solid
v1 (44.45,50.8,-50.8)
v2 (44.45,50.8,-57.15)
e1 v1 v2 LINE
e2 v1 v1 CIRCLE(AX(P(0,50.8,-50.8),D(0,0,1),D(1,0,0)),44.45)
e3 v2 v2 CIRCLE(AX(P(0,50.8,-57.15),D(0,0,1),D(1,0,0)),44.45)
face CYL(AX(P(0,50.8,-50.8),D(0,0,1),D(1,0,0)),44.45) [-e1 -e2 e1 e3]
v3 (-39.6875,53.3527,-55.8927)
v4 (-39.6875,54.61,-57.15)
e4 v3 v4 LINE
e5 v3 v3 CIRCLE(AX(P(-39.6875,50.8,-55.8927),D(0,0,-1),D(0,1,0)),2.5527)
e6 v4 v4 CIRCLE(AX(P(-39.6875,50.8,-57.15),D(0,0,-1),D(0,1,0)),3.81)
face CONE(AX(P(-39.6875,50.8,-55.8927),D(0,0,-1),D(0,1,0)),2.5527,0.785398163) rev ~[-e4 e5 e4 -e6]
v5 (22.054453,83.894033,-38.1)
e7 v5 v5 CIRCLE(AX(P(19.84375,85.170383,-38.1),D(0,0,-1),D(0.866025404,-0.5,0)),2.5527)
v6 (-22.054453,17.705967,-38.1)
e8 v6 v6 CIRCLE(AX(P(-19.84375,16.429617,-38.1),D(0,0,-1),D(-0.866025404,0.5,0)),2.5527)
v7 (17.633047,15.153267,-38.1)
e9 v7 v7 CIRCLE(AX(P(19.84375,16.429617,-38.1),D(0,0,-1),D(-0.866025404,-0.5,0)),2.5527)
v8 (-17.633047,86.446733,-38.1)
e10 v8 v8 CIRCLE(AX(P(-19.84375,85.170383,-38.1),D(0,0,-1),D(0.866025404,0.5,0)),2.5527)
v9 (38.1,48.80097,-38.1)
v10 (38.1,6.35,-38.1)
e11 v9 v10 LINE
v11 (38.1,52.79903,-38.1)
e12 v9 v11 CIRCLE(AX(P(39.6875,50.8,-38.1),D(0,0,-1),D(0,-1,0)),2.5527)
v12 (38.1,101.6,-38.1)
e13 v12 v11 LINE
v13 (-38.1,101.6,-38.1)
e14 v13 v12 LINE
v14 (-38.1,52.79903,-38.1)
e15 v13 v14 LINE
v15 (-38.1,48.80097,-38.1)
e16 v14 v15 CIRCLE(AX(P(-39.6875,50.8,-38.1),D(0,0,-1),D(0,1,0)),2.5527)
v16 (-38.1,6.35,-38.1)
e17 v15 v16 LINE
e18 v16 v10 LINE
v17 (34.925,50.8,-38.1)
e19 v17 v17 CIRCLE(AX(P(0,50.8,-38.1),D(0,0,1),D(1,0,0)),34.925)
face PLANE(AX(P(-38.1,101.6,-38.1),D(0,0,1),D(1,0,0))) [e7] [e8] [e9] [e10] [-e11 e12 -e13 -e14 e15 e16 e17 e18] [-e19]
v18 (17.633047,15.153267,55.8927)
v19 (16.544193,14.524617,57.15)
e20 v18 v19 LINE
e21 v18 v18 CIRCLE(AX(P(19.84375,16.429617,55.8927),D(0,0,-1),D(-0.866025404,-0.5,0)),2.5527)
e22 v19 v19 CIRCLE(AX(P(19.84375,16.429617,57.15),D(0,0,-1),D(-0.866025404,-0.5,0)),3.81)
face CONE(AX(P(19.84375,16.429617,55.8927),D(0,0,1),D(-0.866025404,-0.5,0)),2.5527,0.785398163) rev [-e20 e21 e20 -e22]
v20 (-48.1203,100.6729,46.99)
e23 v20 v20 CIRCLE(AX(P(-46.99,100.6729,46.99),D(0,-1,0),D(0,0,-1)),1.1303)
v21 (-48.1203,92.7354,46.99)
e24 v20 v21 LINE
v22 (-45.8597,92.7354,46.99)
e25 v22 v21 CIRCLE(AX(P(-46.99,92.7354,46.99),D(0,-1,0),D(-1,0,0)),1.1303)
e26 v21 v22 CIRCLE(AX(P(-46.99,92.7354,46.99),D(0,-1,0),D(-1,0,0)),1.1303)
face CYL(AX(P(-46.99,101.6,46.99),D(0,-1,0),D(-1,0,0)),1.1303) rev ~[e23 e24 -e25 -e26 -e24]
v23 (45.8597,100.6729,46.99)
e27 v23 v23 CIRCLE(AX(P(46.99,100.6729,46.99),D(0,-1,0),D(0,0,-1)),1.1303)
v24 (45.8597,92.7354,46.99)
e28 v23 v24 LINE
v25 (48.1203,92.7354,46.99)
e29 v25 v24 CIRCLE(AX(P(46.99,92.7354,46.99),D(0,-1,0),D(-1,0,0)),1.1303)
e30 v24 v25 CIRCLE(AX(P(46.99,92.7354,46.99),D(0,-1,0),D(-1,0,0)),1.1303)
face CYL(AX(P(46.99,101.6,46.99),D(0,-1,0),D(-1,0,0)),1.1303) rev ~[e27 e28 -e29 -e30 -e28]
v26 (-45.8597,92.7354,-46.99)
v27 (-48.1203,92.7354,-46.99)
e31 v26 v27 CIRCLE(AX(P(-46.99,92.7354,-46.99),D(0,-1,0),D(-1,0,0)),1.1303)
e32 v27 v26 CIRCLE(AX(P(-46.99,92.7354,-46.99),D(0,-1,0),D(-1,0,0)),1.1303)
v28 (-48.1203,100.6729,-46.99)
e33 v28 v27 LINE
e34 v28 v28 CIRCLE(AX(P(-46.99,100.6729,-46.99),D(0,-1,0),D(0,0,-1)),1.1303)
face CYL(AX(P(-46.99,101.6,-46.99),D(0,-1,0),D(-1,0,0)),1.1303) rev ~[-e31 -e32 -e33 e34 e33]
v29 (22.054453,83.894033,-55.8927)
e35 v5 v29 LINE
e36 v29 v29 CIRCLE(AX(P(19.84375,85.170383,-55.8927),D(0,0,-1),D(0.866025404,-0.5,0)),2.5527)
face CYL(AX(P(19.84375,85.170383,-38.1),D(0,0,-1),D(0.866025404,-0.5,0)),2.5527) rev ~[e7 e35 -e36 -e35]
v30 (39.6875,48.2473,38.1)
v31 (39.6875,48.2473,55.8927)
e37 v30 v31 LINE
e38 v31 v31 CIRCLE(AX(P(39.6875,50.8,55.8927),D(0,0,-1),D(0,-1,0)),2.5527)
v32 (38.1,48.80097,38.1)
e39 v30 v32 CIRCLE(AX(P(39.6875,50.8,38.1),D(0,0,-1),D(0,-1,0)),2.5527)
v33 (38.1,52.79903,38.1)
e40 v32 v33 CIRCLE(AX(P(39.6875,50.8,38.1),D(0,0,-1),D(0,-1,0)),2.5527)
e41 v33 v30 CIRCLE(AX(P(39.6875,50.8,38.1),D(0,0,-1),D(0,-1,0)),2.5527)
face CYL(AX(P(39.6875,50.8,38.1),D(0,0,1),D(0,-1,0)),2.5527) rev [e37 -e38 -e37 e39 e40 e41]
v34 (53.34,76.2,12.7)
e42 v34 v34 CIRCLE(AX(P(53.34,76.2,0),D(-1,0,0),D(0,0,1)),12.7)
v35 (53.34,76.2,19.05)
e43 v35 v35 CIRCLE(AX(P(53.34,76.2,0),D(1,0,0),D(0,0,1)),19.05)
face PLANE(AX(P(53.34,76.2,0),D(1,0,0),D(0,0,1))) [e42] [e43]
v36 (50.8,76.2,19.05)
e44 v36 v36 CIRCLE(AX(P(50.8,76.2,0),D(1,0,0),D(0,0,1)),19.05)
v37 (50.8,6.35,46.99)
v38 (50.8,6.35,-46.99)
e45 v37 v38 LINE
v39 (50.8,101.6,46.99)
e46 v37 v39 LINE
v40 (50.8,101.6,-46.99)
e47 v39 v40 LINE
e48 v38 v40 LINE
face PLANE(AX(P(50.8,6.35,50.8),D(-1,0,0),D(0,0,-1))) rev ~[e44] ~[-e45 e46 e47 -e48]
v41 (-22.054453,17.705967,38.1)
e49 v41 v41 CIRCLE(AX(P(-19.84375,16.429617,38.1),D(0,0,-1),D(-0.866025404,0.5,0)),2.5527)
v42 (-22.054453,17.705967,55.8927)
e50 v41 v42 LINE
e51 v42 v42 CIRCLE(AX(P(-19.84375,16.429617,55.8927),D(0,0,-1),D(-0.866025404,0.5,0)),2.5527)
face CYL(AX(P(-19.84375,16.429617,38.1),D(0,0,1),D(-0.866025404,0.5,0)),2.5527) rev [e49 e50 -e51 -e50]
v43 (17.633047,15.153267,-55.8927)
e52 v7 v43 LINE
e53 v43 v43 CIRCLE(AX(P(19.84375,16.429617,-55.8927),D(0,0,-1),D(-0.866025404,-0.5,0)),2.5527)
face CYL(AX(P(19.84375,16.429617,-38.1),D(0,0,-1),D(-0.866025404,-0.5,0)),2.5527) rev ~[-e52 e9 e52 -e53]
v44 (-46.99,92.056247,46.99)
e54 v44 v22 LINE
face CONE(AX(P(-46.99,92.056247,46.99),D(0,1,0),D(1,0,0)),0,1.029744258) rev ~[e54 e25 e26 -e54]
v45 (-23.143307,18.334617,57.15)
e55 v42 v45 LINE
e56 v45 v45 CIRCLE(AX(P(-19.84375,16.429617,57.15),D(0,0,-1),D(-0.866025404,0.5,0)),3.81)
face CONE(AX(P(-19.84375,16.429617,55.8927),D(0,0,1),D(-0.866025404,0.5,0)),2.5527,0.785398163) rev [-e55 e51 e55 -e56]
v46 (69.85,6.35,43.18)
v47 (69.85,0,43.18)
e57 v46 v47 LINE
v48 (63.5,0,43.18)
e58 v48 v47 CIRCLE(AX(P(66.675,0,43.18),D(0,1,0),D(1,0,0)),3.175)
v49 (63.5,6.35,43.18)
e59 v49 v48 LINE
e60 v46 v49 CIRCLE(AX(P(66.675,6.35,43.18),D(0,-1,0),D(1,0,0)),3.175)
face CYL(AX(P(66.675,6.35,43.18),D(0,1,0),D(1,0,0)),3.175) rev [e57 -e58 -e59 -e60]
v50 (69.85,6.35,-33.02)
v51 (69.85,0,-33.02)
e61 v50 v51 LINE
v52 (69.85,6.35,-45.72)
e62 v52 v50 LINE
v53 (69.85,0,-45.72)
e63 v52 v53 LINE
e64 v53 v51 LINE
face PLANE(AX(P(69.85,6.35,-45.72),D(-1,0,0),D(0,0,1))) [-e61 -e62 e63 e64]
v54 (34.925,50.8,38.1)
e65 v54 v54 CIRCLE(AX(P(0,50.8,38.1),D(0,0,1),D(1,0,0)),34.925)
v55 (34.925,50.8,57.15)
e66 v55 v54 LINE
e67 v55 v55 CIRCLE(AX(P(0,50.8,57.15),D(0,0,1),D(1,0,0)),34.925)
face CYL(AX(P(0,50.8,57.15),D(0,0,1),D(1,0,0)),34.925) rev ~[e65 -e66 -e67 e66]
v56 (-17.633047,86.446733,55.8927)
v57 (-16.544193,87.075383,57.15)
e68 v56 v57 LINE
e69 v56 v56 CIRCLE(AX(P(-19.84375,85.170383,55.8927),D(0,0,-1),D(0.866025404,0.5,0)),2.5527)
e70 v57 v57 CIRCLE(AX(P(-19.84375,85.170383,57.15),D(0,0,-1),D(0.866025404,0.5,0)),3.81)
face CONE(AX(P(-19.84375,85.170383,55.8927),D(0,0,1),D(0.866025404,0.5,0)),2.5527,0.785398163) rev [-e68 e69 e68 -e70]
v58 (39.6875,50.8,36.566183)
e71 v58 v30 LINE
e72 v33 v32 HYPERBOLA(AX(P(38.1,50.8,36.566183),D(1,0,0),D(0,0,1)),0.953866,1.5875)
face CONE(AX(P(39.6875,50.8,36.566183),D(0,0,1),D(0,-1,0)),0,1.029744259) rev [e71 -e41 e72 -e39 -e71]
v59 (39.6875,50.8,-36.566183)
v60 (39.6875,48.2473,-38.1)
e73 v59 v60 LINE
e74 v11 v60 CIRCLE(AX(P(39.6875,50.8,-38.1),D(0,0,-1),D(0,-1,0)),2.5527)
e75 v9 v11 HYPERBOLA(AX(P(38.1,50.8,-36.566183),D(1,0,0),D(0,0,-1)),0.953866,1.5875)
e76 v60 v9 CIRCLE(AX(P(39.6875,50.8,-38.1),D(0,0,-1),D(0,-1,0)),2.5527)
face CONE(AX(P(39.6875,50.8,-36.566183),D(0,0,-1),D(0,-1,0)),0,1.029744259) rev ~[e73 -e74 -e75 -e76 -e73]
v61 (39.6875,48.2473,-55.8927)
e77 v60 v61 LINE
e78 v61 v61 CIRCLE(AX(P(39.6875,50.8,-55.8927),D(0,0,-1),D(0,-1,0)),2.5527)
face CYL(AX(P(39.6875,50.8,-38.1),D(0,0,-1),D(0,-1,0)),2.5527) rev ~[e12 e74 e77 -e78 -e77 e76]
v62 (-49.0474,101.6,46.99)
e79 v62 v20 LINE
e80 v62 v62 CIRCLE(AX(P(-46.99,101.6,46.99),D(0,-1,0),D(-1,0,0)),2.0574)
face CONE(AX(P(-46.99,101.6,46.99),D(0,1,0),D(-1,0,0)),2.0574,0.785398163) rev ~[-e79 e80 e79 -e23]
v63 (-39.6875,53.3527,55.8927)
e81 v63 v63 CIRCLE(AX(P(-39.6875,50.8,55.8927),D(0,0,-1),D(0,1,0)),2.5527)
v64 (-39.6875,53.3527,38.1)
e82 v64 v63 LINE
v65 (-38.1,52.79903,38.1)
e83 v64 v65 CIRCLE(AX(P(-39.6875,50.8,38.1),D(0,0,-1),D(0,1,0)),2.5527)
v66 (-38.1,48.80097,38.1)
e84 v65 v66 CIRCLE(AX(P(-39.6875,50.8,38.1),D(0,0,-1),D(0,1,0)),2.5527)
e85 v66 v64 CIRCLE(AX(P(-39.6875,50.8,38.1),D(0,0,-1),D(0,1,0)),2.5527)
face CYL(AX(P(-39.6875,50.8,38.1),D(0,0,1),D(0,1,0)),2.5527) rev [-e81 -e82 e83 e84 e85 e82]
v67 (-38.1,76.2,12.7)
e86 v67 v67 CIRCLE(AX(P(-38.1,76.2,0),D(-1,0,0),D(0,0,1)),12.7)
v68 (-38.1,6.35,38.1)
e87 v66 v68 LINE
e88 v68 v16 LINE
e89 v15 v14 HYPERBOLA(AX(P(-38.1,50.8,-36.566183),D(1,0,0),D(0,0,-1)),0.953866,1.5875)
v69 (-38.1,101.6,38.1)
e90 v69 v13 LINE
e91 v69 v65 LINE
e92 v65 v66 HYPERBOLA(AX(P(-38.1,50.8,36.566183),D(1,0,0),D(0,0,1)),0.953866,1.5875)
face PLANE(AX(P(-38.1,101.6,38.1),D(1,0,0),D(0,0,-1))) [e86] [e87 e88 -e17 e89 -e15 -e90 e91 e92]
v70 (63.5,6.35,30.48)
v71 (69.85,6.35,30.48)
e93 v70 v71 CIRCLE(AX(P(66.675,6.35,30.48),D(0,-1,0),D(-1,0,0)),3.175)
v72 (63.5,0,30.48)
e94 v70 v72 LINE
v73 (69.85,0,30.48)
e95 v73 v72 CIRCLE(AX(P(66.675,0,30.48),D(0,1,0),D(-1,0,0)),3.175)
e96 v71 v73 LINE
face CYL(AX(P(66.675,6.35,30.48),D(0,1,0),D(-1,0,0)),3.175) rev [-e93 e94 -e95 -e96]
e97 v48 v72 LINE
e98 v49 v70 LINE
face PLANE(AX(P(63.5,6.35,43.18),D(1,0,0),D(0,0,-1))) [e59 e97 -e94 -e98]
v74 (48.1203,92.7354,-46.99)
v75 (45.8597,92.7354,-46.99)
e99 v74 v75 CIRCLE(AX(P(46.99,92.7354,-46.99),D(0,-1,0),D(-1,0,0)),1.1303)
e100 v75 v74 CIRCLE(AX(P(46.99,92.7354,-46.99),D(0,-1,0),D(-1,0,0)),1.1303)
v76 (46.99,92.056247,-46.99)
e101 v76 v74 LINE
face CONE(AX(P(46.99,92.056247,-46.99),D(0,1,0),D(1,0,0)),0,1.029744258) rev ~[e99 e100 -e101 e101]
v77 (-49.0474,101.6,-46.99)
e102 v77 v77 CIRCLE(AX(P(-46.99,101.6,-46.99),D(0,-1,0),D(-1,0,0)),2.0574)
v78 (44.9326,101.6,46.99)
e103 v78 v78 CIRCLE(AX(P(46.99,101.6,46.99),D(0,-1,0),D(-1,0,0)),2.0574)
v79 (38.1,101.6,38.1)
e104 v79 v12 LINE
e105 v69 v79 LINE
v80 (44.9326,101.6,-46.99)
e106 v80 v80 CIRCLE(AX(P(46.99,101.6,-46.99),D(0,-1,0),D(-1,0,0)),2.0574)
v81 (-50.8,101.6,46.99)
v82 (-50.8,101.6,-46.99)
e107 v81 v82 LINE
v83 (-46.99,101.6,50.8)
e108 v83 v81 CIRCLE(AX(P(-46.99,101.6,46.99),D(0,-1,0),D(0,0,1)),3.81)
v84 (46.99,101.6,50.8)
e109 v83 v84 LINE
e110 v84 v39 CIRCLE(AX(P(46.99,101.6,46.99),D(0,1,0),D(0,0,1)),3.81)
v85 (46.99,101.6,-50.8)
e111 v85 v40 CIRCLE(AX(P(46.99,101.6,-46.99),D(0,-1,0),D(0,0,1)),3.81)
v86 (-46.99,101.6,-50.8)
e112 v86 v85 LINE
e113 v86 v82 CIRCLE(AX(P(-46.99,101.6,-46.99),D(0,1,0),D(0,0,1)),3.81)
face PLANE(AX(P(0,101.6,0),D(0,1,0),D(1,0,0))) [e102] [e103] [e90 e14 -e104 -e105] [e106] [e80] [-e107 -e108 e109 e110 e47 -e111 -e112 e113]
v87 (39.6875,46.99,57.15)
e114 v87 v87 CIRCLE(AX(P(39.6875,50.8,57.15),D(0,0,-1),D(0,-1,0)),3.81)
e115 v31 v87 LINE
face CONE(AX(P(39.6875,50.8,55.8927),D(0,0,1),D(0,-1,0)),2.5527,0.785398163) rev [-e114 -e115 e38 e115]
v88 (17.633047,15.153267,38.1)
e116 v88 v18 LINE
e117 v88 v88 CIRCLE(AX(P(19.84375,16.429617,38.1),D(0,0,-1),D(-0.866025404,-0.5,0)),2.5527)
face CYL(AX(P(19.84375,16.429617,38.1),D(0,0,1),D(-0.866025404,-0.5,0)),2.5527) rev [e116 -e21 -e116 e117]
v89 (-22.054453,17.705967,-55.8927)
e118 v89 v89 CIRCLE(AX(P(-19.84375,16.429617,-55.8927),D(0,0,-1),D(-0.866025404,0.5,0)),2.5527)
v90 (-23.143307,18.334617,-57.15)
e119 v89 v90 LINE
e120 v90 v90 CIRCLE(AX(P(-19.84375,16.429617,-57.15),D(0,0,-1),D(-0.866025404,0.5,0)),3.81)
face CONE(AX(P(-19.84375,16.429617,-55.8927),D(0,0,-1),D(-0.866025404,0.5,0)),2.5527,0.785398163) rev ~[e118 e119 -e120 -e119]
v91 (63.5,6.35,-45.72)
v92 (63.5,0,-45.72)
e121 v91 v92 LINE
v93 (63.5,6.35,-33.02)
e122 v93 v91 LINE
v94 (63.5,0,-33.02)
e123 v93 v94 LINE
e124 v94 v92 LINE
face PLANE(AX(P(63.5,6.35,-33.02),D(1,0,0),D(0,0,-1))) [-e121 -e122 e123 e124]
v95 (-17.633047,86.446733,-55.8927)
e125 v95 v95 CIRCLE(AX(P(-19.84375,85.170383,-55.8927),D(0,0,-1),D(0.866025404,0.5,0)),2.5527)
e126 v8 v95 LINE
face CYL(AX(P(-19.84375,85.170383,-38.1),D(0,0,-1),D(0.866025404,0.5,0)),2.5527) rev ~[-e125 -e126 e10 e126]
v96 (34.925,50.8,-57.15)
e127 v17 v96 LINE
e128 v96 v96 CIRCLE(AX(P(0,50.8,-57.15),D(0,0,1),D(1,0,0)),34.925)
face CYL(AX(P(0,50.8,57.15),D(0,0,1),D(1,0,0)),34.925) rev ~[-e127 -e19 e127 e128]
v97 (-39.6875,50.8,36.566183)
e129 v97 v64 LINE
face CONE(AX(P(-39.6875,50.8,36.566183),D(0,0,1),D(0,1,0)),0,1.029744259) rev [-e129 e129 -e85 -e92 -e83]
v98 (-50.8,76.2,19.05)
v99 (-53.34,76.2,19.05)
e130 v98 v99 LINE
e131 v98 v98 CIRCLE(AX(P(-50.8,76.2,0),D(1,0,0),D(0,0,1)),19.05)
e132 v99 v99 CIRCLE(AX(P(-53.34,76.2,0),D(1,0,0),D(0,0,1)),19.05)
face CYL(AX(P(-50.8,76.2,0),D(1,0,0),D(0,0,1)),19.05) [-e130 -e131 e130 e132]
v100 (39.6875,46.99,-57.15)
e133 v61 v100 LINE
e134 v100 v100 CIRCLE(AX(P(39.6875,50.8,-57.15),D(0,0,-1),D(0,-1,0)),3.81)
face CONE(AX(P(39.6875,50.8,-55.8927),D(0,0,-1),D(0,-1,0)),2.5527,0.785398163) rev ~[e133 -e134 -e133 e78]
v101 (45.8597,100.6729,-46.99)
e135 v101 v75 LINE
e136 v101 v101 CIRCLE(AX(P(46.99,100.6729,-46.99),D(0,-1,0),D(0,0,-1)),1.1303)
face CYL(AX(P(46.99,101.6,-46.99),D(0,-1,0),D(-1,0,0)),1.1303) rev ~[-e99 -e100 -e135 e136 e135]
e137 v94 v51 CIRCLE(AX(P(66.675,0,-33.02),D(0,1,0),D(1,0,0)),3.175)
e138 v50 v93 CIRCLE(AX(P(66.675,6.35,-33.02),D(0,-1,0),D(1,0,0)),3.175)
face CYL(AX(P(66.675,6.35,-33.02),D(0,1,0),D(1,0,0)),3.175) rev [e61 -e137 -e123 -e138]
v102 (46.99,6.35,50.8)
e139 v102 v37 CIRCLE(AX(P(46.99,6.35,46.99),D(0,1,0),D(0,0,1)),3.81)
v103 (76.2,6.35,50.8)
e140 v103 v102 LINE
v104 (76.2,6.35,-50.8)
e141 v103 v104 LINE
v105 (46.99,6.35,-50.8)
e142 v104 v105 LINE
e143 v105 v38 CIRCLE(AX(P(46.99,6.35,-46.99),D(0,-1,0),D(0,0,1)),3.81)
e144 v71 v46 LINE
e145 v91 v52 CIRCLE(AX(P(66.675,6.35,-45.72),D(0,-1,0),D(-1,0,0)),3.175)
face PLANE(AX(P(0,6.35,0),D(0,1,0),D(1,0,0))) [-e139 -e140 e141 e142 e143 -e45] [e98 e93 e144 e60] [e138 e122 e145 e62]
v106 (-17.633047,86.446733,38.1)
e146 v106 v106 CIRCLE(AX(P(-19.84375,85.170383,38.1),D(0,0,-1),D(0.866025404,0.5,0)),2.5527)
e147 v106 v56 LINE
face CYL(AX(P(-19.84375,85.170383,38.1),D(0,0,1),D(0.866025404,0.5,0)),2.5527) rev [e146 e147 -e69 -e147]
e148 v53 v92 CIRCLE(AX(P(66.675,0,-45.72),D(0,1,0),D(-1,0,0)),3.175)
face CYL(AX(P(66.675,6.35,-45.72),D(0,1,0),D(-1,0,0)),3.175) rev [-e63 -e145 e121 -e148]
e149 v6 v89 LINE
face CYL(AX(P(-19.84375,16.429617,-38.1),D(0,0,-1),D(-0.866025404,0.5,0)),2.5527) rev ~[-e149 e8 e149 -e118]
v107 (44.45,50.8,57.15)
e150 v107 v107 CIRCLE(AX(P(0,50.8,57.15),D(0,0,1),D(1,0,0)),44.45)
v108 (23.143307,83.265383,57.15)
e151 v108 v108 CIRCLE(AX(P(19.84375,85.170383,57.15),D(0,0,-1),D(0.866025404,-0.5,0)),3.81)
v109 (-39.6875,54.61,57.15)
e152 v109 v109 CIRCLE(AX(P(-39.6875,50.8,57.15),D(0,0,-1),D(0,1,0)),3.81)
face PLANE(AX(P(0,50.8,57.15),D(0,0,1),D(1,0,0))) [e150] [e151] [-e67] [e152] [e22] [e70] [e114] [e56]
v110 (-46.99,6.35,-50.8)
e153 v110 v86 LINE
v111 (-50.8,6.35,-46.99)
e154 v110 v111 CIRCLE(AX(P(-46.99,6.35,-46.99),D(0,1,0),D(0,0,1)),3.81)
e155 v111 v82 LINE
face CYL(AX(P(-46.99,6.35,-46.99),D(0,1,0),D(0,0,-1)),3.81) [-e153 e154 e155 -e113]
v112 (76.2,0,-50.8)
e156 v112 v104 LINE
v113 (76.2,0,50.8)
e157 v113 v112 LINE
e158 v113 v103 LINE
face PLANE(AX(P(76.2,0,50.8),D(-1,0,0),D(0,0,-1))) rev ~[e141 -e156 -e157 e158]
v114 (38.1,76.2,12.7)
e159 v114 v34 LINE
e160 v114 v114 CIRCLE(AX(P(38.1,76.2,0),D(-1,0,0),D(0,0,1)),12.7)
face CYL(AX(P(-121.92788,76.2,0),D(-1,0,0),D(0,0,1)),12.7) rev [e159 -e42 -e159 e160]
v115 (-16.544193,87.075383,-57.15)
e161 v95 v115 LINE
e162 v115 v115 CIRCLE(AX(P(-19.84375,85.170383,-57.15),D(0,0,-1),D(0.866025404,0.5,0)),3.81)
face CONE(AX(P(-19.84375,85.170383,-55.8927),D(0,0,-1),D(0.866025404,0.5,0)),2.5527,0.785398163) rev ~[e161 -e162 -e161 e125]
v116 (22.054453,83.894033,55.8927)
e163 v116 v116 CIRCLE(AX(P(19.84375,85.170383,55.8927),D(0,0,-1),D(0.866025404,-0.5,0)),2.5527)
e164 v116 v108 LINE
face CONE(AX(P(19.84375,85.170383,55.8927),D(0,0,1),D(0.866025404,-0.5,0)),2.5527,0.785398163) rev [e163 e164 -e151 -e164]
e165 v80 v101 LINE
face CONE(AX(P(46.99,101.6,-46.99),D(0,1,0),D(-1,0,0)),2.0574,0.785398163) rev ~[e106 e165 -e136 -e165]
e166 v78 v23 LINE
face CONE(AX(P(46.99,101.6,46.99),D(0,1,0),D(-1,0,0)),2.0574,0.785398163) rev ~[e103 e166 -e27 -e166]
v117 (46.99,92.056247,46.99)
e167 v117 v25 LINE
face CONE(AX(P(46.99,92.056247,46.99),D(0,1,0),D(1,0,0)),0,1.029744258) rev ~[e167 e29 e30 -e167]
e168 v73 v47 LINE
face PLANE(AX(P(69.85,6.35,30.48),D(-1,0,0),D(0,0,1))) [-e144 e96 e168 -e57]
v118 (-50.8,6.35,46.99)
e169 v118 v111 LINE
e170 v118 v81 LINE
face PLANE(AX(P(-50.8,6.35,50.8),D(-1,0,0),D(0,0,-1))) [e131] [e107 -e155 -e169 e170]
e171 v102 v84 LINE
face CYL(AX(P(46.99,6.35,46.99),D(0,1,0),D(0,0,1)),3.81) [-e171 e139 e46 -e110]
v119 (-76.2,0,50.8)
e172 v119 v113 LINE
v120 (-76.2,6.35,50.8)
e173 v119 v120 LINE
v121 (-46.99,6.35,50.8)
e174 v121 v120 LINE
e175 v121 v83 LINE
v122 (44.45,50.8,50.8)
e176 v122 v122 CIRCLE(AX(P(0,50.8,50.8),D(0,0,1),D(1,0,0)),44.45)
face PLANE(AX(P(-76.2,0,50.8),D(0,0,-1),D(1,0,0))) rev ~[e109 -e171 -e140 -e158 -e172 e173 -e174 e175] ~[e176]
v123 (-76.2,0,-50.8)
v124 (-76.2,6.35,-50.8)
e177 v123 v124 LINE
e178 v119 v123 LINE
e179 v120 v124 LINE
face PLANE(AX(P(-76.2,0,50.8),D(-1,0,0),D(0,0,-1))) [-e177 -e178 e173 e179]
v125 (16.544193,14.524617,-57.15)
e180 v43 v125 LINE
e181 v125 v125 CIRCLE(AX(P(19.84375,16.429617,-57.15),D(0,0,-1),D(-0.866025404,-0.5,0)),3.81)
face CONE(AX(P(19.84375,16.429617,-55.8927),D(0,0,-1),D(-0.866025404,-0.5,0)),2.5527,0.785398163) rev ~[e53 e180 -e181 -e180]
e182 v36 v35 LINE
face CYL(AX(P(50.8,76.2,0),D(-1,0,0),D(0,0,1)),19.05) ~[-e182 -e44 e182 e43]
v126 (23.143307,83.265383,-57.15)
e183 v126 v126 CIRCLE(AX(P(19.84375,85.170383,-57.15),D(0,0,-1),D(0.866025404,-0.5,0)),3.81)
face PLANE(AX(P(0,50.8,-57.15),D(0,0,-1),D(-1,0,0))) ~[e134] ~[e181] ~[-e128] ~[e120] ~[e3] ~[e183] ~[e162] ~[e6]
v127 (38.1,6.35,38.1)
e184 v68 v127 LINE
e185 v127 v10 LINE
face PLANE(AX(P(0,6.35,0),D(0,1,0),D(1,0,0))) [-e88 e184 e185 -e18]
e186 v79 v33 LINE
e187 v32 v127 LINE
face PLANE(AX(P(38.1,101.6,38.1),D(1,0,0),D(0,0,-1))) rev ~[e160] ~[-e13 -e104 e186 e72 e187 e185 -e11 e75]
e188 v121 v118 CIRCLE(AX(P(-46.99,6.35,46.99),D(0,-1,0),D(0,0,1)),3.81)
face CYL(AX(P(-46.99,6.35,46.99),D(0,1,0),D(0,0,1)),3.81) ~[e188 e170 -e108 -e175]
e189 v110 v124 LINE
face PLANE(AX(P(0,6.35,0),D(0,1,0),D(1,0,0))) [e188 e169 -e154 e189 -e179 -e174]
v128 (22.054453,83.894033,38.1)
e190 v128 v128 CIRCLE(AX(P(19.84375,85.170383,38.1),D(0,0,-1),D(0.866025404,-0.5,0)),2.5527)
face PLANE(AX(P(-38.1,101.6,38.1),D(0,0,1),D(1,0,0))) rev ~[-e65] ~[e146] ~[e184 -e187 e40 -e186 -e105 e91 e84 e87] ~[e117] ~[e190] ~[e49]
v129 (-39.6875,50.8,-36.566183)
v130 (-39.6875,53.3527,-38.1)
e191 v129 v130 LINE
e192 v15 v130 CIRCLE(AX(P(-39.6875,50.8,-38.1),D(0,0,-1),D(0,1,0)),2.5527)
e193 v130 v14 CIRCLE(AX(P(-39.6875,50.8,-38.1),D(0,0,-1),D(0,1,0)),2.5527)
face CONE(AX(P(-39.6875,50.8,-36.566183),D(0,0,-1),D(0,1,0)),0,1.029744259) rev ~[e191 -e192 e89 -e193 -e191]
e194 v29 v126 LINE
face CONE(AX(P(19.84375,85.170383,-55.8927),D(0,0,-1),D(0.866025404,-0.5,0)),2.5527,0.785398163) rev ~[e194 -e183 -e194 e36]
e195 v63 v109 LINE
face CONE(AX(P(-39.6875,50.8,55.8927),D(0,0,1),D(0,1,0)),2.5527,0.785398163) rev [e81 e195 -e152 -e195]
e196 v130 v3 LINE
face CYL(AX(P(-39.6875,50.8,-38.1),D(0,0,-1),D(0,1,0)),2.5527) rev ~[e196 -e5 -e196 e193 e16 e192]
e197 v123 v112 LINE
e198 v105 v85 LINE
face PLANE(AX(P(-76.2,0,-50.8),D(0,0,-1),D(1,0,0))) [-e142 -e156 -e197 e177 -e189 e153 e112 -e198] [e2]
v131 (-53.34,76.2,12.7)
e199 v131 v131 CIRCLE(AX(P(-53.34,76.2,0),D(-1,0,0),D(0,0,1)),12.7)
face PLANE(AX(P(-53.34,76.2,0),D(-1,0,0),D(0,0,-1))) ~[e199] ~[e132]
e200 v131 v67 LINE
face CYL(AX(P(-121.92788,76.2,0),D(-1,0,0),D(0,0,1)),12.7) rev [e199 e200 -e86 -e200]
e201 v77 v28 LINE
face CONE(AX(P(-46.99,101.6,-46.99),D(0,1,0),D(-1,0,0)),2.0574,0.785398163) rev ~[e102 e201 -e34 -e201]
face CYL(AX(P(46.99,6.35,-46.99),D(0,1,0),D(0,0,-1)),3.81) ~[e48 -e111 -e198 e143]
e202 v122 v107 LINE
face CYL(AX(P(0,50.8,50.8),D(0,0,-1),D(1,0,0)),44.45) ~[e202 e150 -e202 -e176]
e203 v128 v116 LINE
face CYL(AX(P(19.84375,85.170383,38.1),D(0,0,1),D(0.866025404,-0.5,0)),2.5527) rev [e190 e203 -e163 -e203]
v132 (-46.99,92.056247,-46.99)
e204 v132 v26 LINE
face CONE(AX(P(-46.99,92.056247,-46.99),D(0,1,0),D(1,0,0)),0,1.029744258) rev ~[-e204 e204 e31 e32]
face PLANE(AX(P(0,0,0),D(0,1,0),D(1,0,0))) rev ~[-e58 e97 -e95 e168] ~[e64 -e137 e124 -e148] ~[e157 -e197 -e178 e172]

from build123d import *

# Parameters (mm, degrees)
SKETCH4_W                       = 152.4
SKETCH4_H                       = 101.6
BOSS_EXTRUDE3_DEPTH             = 6.35
SKETCH5_W                       = 101.6
SKETCH5_H                       = 101.6
BOSS_EXTRUDE4_DEPTH             = 95.25
SKETCH6_W                       = 76.2
SKETCH6_H                       = 76.2
CUT_EXTRUDE1_DEPTH              = 95.25
SKETCH7_R                       = 44.45
BOSS_EXTRUDE5_DEPTH             = 6.35
SKETCH8_R                       = 34.925
CUT_EXTRUDE3_DEPTH              = 171.861025398
CIRPATTERN1_COUNT               = 6
FILLET1_R                       = 3.81
F_4_40_TAPPED_HOLE1_D           = 2.2606
F_4_40_TAPPED_HOLE1_DEPTH       = 8.8646
F_4_40_TAPPED_HOLE1_CSINK_D     = 4.1148
F_4_40_TAPPED_HOLE1_CSINK_ANGLE = 90
F_4_40_TAPPED_HOLE1_TIP         = 0.679152758
SKETCH16_R                      = 19.05
BOSS_EXTRUDE6_DEPTH             = 2.54
CUT_EXTRUDE4_DEPTH              = 175.267880288
CUT_EXTRUDE4_DEPTH_BACK         = 175.267880288
SKETCH17_R                      = 12.7
CUT_EXTRUDE5_DEPTH              = 135.703841816
LPATTERN1_COUNT                 = 2
LPATTERN1_PITCH                 = 76.2


with BuildPart() as part:
    # Sketch4 → Boss-Extrude3 (new body)
    with BuildSketch(Plane(origin=(0, 0, 0), x_dir=(1, 0, 0), z_dir=(0, 1, 0))):
        Rectangle(SKETCH4_W, SKETCH4_H)
    extrude(amount=BOSS_EXTRUDE3_DEPTH)

    # Sketch5 → Boss-Extrude4 (add)
    with BuildSketch(Plane(origin=(0, 6.35, 0), x_dir=(1, 0, 0), z_dir=(0, 1, 0))):
        Rectangle(SKETCH5_W, SKETCH5_H)
    extrude(amount=BOSS_EXTRUDE4_DEPTH)

    # Sketch6 → Cut-Extrude1 (cut)
    with BuildSketch(Plane(origin=(0, 101.6, 0), x_dir=(1, 0, 0), z_dir=(0, 1, 0))):
        Rectangle(SKETCH6_W, SKETCH6_H)
    extrude(amount=-CUT_EXTRUDE1_DEPTH, mode=Mode.SUBTRACT)

    # Sketch7 → Boss-Extrude5 (add)
    with BuildSketch(Plane.XY.offset(50.8)):
        with Locations((0, 50.8)):
            Circle(SKETCH7_R)
    boss_extrude5 = extrude(amount=BOSS_EXTRUDE5_DEPTH)

    # Mirror2: Boss-Extrude5 across plane
    add(boss_extrude5.mirror(Plane.XY))

    # Sketch8 → Cut-Extrude3 (cut, through all)
    with BuildSketch(Plane.XY.offset(57.15)):
        with Locations((0, 50.8)):
            Circle(SKETCH8_R)
    extrude(amount=-CUT_EXTRUDE3_DEPTH, mode=Mode.SUBTRACT)

    # Sketch13 → 1/4-20 Tapped Hole2 (revolve, cut)
    with BuildSketch(Plane(origin=(39.6875, 50.8, 57.15), x_dir=(0, -1, 0), z_dir=(1, 0, 0))):
        Polygon((0, 0), (0, 20.583816902), (2.5527, 19.05), (2.5527, 1.2573), (3.81, 0), align=None)
    f_1_4_20_tapped_hole2 = revolve(axis=Axis((39.6875, 50.8, 63.5), (0, 0, -1)), mode=Mode.SUBTRACT)

    # CirPattern1: 1/4-20 Tapped Hole2 ×6 about axis
    cirpattern1_axis = Axis((0, 50.8, 0), (0, 0, 1))
    for i in range(1, CIRPATTERN1_COUNT):
        add(f_1_4_20_tapped_hole2.rotate(cirpattern1_axis, i * 360 / CIRPATTERN1_COUNT), mode=Mode.SUBTRACT)

    # Fillet1
    fillet1_edges = [part.edges().sort_by_distance(p)[0] for p in [
        (50.8, 53.975, 50.8),
        (50.8, 53.975, -50.8),
        (-50.8, 53.975, -50.8),
        (-50.8, 53.975, 50.8),
    ]]
    fillet(fillet1_edges, radius=FILLET1_R)

    # #4-40 Tapped Hole1
    with Locations(Plane(origin=(0, 101.6, 0), x_dir=(1, 0, 0), z_dir=(0, 1, 0))):
        with Locations((-46.99, 46.99), (46.99, 46.99), (46.99, -46.99), (-46.99, -46.99)):
            CounterSinkHole(F_4_40_TAPPED_HOLE1_D / 2, F_4_40_TAPPED_HOLE1_CSINK_D / 2, depth=F_4_40_TAPPED_HOLE1_DEPTH, counter_sink_angle=F_4_40_TAPPED_HOLE1_CSINK_ANGLE)
            with Locations((0, 0, -(F_4_40_TAPPED_HOLE1_DEPTH + F_4_40_TAPPED_HOLE1_TIP / 2))):  # 118° drill point
                Cone(0, F_4_40_TAPPED_HOLE1_D / 2, F_4_40_TAPPED_HOLE1_TIP, mode=Mode.SUBTRACT)

    # Sketch16 → Boss-Extrude6 (add)
    with BuildSketch(Plane(origin=(50.8, 0, 0), x_dir=(0, 0, -1), z_dir=(1, 0, 0))):
        with Locations(Location((0, 76.2, 0), (0, 0, 180))):
            Circle(SKETCH16_R)
    boss_extrude6 = extrude(amount=BOSS_EXTRUDE6_DEPTH)

    # Mirror4: Boss-Extrude6 across plane
    add(boss_extrude6.mirror(Plane(origin=(0, 0, 0), x_dir=(0, 0, 1), z_dir=(1, 0, 0))))

    # Sketch17 → Cut-Extrude4 (cut, two sides: drawn at the far end of the back side and taken through both)
    with BuildSketch(Plane(origin=(53.34, 0, 0), x_dir=(0, 0, -1), z_dir=(1, 0, 0)).offset(-CUT_EXTRUDE4_DEPTH_BACK)):
        with Locations(Location((0, 76.2, 0), (0, 0, 180))):
            Circle(SKETCH17_R)
    extrude(amount=CUT_EXTRUDE4_DEPTH + CUT_EXTRUDE4_DEPTH_BACK, mode=Mode.SUBTRACT)

    # Mirror5: 1/4-20 Tapped Hole2 across plane
    add(f_1_4_20_tapped_hole2.mirror(Plane.XY), mode=Mode.SUBTRACT)

    # Mirror5 copy 1 sketch → Mirror5 copy 1 (revolve, cut)
    with BuildSketch(Plane(origin=(19.84375, 85.170383213, -57.15), x_dir=(0.8660254037844386, -0.5000000000000001, 0), z_dir=(0.5000000000000001, 0.8660254037844386, 0))):
        Polygon((0, 0), (0, -20.583816902), (2.5527, -19.05), (2.5527, -1.2573), (3.81, 0), align=None)
    revolve(axis=Axis((19.84375, 85.170383213, -63.5), (0, 0, -1)), mode=Mode.SUBTRACT)

    # Mirror5 copy 2 sketch → Mirror5 copy 2 (revolve, cut)
    with BuildSketch(Plane(origin=(-19.84375, 85.170383213, -57.15), x_dir=(0.8660254037844387, 0.4999999999999998, 0), z_dir=(-0.4999999999999998, 0.8660254037844387, 0))):
        Polygon((0, 0), (0, -20.583816902), (2.5527, -19.05), (2.5527, -1.2573), (3.81, 0), align=None)
    revolve(axis=Axis((-19.84375, 85.170383213, -63.5), (0, 0, -1)), mode=Mode.SUBTRACT)

    # Mirror5 copy 3 sketch → Mirror5 copy 3 (revolve, cut)
    with BuildSketch(Plane(origin=(-39.6875, 50.8, -57.15), x_dir=(0, 1, 0), z_dir=(-1, 0, 0))):
        Polygon((0, 0), (0, -20.583816902), (2.5527, -19.05), (2.5527, -1.2573), (3.81, 0), align=None)
    revolve(axis=Axis((-39.6875, 50.8, -63.5), (0, 0, -1)), mode=Mode.SUBTRACT)

    # Mirror5 copy 4 sketch → Mirror5 copy 4 (revolve, cut)
    with BuildSketch(Plane(origin=(-19.84375, 16.429616787, -57.15), x_dir=(-0.8660254037844384, 0.5000000000000004, 0), z_dir=(-0.5000000000000004, -0.8660254037844384, 0))):
        Polygon((0, 0), (0, -20.583816902), (2.5527, -19.05), (2.5527, -1.2573), (3.81, 0), align=None)
    revolve(axis=Axis((-19.84375, 16.429616787, -63.5), (0, 0, -1)), mode=Mode.SUBTRACT)

    # Mirror5 copy 5 sketch → Mirror5 copy 5 (revolve, cut)
    with BuildSketch(Plane(origin=(19.84375, 16.429616787, -57.15), x_dir=(-0.8660254037844386, -0.5000000000000001, 0), z_dir=(0.5000000000000001, -0.8660254037844386, 0))):
        Polygon((0, 0), (0, -20.583816902), (2.5527, -19.05), (2.5527, -1.2573), (3.81, 0), align=None)
    revolve(axis=Axis((19.84375, 16.429616787, -63.5), (0, 0, -1)), mode=Mode.SUBTRACT)

    # Sketch19 → Cut-Extrude5 (cut, through all)
    with BuildSketch(Plane(origin=(0, 6.35, 0), x_dir=(1, 0, 0), z_dir=(0, 1, 0))):
        with BuildLine():
            Line((69.85, -30.48), (69.85, -43.18))
            ThreePointArc((69.85, -43.18), (66.675, -46.355), (63.5, -43.18))
            Line((63.5, -43.18), (63.5, -30.48))
            ThreePointArc((63.5, -30.48), (66.675, -27.305), (69.85, -30.48))
        make_face()
    cut_extrude5 = extrude(amount=-CUT_EXTRUDE5_DEPTH, mode=Mode.SUBTRACT)

    # LPattern1: Cut-Extrude5 ×2
    with Locations(*[(0, 0, -i * LPATTERN1_PITCH) for i in range(1, LPATTERN1_COUNT)]):
        add(cut_extrude5, mode=Mode.SUBTRACT)


solid = part.part
